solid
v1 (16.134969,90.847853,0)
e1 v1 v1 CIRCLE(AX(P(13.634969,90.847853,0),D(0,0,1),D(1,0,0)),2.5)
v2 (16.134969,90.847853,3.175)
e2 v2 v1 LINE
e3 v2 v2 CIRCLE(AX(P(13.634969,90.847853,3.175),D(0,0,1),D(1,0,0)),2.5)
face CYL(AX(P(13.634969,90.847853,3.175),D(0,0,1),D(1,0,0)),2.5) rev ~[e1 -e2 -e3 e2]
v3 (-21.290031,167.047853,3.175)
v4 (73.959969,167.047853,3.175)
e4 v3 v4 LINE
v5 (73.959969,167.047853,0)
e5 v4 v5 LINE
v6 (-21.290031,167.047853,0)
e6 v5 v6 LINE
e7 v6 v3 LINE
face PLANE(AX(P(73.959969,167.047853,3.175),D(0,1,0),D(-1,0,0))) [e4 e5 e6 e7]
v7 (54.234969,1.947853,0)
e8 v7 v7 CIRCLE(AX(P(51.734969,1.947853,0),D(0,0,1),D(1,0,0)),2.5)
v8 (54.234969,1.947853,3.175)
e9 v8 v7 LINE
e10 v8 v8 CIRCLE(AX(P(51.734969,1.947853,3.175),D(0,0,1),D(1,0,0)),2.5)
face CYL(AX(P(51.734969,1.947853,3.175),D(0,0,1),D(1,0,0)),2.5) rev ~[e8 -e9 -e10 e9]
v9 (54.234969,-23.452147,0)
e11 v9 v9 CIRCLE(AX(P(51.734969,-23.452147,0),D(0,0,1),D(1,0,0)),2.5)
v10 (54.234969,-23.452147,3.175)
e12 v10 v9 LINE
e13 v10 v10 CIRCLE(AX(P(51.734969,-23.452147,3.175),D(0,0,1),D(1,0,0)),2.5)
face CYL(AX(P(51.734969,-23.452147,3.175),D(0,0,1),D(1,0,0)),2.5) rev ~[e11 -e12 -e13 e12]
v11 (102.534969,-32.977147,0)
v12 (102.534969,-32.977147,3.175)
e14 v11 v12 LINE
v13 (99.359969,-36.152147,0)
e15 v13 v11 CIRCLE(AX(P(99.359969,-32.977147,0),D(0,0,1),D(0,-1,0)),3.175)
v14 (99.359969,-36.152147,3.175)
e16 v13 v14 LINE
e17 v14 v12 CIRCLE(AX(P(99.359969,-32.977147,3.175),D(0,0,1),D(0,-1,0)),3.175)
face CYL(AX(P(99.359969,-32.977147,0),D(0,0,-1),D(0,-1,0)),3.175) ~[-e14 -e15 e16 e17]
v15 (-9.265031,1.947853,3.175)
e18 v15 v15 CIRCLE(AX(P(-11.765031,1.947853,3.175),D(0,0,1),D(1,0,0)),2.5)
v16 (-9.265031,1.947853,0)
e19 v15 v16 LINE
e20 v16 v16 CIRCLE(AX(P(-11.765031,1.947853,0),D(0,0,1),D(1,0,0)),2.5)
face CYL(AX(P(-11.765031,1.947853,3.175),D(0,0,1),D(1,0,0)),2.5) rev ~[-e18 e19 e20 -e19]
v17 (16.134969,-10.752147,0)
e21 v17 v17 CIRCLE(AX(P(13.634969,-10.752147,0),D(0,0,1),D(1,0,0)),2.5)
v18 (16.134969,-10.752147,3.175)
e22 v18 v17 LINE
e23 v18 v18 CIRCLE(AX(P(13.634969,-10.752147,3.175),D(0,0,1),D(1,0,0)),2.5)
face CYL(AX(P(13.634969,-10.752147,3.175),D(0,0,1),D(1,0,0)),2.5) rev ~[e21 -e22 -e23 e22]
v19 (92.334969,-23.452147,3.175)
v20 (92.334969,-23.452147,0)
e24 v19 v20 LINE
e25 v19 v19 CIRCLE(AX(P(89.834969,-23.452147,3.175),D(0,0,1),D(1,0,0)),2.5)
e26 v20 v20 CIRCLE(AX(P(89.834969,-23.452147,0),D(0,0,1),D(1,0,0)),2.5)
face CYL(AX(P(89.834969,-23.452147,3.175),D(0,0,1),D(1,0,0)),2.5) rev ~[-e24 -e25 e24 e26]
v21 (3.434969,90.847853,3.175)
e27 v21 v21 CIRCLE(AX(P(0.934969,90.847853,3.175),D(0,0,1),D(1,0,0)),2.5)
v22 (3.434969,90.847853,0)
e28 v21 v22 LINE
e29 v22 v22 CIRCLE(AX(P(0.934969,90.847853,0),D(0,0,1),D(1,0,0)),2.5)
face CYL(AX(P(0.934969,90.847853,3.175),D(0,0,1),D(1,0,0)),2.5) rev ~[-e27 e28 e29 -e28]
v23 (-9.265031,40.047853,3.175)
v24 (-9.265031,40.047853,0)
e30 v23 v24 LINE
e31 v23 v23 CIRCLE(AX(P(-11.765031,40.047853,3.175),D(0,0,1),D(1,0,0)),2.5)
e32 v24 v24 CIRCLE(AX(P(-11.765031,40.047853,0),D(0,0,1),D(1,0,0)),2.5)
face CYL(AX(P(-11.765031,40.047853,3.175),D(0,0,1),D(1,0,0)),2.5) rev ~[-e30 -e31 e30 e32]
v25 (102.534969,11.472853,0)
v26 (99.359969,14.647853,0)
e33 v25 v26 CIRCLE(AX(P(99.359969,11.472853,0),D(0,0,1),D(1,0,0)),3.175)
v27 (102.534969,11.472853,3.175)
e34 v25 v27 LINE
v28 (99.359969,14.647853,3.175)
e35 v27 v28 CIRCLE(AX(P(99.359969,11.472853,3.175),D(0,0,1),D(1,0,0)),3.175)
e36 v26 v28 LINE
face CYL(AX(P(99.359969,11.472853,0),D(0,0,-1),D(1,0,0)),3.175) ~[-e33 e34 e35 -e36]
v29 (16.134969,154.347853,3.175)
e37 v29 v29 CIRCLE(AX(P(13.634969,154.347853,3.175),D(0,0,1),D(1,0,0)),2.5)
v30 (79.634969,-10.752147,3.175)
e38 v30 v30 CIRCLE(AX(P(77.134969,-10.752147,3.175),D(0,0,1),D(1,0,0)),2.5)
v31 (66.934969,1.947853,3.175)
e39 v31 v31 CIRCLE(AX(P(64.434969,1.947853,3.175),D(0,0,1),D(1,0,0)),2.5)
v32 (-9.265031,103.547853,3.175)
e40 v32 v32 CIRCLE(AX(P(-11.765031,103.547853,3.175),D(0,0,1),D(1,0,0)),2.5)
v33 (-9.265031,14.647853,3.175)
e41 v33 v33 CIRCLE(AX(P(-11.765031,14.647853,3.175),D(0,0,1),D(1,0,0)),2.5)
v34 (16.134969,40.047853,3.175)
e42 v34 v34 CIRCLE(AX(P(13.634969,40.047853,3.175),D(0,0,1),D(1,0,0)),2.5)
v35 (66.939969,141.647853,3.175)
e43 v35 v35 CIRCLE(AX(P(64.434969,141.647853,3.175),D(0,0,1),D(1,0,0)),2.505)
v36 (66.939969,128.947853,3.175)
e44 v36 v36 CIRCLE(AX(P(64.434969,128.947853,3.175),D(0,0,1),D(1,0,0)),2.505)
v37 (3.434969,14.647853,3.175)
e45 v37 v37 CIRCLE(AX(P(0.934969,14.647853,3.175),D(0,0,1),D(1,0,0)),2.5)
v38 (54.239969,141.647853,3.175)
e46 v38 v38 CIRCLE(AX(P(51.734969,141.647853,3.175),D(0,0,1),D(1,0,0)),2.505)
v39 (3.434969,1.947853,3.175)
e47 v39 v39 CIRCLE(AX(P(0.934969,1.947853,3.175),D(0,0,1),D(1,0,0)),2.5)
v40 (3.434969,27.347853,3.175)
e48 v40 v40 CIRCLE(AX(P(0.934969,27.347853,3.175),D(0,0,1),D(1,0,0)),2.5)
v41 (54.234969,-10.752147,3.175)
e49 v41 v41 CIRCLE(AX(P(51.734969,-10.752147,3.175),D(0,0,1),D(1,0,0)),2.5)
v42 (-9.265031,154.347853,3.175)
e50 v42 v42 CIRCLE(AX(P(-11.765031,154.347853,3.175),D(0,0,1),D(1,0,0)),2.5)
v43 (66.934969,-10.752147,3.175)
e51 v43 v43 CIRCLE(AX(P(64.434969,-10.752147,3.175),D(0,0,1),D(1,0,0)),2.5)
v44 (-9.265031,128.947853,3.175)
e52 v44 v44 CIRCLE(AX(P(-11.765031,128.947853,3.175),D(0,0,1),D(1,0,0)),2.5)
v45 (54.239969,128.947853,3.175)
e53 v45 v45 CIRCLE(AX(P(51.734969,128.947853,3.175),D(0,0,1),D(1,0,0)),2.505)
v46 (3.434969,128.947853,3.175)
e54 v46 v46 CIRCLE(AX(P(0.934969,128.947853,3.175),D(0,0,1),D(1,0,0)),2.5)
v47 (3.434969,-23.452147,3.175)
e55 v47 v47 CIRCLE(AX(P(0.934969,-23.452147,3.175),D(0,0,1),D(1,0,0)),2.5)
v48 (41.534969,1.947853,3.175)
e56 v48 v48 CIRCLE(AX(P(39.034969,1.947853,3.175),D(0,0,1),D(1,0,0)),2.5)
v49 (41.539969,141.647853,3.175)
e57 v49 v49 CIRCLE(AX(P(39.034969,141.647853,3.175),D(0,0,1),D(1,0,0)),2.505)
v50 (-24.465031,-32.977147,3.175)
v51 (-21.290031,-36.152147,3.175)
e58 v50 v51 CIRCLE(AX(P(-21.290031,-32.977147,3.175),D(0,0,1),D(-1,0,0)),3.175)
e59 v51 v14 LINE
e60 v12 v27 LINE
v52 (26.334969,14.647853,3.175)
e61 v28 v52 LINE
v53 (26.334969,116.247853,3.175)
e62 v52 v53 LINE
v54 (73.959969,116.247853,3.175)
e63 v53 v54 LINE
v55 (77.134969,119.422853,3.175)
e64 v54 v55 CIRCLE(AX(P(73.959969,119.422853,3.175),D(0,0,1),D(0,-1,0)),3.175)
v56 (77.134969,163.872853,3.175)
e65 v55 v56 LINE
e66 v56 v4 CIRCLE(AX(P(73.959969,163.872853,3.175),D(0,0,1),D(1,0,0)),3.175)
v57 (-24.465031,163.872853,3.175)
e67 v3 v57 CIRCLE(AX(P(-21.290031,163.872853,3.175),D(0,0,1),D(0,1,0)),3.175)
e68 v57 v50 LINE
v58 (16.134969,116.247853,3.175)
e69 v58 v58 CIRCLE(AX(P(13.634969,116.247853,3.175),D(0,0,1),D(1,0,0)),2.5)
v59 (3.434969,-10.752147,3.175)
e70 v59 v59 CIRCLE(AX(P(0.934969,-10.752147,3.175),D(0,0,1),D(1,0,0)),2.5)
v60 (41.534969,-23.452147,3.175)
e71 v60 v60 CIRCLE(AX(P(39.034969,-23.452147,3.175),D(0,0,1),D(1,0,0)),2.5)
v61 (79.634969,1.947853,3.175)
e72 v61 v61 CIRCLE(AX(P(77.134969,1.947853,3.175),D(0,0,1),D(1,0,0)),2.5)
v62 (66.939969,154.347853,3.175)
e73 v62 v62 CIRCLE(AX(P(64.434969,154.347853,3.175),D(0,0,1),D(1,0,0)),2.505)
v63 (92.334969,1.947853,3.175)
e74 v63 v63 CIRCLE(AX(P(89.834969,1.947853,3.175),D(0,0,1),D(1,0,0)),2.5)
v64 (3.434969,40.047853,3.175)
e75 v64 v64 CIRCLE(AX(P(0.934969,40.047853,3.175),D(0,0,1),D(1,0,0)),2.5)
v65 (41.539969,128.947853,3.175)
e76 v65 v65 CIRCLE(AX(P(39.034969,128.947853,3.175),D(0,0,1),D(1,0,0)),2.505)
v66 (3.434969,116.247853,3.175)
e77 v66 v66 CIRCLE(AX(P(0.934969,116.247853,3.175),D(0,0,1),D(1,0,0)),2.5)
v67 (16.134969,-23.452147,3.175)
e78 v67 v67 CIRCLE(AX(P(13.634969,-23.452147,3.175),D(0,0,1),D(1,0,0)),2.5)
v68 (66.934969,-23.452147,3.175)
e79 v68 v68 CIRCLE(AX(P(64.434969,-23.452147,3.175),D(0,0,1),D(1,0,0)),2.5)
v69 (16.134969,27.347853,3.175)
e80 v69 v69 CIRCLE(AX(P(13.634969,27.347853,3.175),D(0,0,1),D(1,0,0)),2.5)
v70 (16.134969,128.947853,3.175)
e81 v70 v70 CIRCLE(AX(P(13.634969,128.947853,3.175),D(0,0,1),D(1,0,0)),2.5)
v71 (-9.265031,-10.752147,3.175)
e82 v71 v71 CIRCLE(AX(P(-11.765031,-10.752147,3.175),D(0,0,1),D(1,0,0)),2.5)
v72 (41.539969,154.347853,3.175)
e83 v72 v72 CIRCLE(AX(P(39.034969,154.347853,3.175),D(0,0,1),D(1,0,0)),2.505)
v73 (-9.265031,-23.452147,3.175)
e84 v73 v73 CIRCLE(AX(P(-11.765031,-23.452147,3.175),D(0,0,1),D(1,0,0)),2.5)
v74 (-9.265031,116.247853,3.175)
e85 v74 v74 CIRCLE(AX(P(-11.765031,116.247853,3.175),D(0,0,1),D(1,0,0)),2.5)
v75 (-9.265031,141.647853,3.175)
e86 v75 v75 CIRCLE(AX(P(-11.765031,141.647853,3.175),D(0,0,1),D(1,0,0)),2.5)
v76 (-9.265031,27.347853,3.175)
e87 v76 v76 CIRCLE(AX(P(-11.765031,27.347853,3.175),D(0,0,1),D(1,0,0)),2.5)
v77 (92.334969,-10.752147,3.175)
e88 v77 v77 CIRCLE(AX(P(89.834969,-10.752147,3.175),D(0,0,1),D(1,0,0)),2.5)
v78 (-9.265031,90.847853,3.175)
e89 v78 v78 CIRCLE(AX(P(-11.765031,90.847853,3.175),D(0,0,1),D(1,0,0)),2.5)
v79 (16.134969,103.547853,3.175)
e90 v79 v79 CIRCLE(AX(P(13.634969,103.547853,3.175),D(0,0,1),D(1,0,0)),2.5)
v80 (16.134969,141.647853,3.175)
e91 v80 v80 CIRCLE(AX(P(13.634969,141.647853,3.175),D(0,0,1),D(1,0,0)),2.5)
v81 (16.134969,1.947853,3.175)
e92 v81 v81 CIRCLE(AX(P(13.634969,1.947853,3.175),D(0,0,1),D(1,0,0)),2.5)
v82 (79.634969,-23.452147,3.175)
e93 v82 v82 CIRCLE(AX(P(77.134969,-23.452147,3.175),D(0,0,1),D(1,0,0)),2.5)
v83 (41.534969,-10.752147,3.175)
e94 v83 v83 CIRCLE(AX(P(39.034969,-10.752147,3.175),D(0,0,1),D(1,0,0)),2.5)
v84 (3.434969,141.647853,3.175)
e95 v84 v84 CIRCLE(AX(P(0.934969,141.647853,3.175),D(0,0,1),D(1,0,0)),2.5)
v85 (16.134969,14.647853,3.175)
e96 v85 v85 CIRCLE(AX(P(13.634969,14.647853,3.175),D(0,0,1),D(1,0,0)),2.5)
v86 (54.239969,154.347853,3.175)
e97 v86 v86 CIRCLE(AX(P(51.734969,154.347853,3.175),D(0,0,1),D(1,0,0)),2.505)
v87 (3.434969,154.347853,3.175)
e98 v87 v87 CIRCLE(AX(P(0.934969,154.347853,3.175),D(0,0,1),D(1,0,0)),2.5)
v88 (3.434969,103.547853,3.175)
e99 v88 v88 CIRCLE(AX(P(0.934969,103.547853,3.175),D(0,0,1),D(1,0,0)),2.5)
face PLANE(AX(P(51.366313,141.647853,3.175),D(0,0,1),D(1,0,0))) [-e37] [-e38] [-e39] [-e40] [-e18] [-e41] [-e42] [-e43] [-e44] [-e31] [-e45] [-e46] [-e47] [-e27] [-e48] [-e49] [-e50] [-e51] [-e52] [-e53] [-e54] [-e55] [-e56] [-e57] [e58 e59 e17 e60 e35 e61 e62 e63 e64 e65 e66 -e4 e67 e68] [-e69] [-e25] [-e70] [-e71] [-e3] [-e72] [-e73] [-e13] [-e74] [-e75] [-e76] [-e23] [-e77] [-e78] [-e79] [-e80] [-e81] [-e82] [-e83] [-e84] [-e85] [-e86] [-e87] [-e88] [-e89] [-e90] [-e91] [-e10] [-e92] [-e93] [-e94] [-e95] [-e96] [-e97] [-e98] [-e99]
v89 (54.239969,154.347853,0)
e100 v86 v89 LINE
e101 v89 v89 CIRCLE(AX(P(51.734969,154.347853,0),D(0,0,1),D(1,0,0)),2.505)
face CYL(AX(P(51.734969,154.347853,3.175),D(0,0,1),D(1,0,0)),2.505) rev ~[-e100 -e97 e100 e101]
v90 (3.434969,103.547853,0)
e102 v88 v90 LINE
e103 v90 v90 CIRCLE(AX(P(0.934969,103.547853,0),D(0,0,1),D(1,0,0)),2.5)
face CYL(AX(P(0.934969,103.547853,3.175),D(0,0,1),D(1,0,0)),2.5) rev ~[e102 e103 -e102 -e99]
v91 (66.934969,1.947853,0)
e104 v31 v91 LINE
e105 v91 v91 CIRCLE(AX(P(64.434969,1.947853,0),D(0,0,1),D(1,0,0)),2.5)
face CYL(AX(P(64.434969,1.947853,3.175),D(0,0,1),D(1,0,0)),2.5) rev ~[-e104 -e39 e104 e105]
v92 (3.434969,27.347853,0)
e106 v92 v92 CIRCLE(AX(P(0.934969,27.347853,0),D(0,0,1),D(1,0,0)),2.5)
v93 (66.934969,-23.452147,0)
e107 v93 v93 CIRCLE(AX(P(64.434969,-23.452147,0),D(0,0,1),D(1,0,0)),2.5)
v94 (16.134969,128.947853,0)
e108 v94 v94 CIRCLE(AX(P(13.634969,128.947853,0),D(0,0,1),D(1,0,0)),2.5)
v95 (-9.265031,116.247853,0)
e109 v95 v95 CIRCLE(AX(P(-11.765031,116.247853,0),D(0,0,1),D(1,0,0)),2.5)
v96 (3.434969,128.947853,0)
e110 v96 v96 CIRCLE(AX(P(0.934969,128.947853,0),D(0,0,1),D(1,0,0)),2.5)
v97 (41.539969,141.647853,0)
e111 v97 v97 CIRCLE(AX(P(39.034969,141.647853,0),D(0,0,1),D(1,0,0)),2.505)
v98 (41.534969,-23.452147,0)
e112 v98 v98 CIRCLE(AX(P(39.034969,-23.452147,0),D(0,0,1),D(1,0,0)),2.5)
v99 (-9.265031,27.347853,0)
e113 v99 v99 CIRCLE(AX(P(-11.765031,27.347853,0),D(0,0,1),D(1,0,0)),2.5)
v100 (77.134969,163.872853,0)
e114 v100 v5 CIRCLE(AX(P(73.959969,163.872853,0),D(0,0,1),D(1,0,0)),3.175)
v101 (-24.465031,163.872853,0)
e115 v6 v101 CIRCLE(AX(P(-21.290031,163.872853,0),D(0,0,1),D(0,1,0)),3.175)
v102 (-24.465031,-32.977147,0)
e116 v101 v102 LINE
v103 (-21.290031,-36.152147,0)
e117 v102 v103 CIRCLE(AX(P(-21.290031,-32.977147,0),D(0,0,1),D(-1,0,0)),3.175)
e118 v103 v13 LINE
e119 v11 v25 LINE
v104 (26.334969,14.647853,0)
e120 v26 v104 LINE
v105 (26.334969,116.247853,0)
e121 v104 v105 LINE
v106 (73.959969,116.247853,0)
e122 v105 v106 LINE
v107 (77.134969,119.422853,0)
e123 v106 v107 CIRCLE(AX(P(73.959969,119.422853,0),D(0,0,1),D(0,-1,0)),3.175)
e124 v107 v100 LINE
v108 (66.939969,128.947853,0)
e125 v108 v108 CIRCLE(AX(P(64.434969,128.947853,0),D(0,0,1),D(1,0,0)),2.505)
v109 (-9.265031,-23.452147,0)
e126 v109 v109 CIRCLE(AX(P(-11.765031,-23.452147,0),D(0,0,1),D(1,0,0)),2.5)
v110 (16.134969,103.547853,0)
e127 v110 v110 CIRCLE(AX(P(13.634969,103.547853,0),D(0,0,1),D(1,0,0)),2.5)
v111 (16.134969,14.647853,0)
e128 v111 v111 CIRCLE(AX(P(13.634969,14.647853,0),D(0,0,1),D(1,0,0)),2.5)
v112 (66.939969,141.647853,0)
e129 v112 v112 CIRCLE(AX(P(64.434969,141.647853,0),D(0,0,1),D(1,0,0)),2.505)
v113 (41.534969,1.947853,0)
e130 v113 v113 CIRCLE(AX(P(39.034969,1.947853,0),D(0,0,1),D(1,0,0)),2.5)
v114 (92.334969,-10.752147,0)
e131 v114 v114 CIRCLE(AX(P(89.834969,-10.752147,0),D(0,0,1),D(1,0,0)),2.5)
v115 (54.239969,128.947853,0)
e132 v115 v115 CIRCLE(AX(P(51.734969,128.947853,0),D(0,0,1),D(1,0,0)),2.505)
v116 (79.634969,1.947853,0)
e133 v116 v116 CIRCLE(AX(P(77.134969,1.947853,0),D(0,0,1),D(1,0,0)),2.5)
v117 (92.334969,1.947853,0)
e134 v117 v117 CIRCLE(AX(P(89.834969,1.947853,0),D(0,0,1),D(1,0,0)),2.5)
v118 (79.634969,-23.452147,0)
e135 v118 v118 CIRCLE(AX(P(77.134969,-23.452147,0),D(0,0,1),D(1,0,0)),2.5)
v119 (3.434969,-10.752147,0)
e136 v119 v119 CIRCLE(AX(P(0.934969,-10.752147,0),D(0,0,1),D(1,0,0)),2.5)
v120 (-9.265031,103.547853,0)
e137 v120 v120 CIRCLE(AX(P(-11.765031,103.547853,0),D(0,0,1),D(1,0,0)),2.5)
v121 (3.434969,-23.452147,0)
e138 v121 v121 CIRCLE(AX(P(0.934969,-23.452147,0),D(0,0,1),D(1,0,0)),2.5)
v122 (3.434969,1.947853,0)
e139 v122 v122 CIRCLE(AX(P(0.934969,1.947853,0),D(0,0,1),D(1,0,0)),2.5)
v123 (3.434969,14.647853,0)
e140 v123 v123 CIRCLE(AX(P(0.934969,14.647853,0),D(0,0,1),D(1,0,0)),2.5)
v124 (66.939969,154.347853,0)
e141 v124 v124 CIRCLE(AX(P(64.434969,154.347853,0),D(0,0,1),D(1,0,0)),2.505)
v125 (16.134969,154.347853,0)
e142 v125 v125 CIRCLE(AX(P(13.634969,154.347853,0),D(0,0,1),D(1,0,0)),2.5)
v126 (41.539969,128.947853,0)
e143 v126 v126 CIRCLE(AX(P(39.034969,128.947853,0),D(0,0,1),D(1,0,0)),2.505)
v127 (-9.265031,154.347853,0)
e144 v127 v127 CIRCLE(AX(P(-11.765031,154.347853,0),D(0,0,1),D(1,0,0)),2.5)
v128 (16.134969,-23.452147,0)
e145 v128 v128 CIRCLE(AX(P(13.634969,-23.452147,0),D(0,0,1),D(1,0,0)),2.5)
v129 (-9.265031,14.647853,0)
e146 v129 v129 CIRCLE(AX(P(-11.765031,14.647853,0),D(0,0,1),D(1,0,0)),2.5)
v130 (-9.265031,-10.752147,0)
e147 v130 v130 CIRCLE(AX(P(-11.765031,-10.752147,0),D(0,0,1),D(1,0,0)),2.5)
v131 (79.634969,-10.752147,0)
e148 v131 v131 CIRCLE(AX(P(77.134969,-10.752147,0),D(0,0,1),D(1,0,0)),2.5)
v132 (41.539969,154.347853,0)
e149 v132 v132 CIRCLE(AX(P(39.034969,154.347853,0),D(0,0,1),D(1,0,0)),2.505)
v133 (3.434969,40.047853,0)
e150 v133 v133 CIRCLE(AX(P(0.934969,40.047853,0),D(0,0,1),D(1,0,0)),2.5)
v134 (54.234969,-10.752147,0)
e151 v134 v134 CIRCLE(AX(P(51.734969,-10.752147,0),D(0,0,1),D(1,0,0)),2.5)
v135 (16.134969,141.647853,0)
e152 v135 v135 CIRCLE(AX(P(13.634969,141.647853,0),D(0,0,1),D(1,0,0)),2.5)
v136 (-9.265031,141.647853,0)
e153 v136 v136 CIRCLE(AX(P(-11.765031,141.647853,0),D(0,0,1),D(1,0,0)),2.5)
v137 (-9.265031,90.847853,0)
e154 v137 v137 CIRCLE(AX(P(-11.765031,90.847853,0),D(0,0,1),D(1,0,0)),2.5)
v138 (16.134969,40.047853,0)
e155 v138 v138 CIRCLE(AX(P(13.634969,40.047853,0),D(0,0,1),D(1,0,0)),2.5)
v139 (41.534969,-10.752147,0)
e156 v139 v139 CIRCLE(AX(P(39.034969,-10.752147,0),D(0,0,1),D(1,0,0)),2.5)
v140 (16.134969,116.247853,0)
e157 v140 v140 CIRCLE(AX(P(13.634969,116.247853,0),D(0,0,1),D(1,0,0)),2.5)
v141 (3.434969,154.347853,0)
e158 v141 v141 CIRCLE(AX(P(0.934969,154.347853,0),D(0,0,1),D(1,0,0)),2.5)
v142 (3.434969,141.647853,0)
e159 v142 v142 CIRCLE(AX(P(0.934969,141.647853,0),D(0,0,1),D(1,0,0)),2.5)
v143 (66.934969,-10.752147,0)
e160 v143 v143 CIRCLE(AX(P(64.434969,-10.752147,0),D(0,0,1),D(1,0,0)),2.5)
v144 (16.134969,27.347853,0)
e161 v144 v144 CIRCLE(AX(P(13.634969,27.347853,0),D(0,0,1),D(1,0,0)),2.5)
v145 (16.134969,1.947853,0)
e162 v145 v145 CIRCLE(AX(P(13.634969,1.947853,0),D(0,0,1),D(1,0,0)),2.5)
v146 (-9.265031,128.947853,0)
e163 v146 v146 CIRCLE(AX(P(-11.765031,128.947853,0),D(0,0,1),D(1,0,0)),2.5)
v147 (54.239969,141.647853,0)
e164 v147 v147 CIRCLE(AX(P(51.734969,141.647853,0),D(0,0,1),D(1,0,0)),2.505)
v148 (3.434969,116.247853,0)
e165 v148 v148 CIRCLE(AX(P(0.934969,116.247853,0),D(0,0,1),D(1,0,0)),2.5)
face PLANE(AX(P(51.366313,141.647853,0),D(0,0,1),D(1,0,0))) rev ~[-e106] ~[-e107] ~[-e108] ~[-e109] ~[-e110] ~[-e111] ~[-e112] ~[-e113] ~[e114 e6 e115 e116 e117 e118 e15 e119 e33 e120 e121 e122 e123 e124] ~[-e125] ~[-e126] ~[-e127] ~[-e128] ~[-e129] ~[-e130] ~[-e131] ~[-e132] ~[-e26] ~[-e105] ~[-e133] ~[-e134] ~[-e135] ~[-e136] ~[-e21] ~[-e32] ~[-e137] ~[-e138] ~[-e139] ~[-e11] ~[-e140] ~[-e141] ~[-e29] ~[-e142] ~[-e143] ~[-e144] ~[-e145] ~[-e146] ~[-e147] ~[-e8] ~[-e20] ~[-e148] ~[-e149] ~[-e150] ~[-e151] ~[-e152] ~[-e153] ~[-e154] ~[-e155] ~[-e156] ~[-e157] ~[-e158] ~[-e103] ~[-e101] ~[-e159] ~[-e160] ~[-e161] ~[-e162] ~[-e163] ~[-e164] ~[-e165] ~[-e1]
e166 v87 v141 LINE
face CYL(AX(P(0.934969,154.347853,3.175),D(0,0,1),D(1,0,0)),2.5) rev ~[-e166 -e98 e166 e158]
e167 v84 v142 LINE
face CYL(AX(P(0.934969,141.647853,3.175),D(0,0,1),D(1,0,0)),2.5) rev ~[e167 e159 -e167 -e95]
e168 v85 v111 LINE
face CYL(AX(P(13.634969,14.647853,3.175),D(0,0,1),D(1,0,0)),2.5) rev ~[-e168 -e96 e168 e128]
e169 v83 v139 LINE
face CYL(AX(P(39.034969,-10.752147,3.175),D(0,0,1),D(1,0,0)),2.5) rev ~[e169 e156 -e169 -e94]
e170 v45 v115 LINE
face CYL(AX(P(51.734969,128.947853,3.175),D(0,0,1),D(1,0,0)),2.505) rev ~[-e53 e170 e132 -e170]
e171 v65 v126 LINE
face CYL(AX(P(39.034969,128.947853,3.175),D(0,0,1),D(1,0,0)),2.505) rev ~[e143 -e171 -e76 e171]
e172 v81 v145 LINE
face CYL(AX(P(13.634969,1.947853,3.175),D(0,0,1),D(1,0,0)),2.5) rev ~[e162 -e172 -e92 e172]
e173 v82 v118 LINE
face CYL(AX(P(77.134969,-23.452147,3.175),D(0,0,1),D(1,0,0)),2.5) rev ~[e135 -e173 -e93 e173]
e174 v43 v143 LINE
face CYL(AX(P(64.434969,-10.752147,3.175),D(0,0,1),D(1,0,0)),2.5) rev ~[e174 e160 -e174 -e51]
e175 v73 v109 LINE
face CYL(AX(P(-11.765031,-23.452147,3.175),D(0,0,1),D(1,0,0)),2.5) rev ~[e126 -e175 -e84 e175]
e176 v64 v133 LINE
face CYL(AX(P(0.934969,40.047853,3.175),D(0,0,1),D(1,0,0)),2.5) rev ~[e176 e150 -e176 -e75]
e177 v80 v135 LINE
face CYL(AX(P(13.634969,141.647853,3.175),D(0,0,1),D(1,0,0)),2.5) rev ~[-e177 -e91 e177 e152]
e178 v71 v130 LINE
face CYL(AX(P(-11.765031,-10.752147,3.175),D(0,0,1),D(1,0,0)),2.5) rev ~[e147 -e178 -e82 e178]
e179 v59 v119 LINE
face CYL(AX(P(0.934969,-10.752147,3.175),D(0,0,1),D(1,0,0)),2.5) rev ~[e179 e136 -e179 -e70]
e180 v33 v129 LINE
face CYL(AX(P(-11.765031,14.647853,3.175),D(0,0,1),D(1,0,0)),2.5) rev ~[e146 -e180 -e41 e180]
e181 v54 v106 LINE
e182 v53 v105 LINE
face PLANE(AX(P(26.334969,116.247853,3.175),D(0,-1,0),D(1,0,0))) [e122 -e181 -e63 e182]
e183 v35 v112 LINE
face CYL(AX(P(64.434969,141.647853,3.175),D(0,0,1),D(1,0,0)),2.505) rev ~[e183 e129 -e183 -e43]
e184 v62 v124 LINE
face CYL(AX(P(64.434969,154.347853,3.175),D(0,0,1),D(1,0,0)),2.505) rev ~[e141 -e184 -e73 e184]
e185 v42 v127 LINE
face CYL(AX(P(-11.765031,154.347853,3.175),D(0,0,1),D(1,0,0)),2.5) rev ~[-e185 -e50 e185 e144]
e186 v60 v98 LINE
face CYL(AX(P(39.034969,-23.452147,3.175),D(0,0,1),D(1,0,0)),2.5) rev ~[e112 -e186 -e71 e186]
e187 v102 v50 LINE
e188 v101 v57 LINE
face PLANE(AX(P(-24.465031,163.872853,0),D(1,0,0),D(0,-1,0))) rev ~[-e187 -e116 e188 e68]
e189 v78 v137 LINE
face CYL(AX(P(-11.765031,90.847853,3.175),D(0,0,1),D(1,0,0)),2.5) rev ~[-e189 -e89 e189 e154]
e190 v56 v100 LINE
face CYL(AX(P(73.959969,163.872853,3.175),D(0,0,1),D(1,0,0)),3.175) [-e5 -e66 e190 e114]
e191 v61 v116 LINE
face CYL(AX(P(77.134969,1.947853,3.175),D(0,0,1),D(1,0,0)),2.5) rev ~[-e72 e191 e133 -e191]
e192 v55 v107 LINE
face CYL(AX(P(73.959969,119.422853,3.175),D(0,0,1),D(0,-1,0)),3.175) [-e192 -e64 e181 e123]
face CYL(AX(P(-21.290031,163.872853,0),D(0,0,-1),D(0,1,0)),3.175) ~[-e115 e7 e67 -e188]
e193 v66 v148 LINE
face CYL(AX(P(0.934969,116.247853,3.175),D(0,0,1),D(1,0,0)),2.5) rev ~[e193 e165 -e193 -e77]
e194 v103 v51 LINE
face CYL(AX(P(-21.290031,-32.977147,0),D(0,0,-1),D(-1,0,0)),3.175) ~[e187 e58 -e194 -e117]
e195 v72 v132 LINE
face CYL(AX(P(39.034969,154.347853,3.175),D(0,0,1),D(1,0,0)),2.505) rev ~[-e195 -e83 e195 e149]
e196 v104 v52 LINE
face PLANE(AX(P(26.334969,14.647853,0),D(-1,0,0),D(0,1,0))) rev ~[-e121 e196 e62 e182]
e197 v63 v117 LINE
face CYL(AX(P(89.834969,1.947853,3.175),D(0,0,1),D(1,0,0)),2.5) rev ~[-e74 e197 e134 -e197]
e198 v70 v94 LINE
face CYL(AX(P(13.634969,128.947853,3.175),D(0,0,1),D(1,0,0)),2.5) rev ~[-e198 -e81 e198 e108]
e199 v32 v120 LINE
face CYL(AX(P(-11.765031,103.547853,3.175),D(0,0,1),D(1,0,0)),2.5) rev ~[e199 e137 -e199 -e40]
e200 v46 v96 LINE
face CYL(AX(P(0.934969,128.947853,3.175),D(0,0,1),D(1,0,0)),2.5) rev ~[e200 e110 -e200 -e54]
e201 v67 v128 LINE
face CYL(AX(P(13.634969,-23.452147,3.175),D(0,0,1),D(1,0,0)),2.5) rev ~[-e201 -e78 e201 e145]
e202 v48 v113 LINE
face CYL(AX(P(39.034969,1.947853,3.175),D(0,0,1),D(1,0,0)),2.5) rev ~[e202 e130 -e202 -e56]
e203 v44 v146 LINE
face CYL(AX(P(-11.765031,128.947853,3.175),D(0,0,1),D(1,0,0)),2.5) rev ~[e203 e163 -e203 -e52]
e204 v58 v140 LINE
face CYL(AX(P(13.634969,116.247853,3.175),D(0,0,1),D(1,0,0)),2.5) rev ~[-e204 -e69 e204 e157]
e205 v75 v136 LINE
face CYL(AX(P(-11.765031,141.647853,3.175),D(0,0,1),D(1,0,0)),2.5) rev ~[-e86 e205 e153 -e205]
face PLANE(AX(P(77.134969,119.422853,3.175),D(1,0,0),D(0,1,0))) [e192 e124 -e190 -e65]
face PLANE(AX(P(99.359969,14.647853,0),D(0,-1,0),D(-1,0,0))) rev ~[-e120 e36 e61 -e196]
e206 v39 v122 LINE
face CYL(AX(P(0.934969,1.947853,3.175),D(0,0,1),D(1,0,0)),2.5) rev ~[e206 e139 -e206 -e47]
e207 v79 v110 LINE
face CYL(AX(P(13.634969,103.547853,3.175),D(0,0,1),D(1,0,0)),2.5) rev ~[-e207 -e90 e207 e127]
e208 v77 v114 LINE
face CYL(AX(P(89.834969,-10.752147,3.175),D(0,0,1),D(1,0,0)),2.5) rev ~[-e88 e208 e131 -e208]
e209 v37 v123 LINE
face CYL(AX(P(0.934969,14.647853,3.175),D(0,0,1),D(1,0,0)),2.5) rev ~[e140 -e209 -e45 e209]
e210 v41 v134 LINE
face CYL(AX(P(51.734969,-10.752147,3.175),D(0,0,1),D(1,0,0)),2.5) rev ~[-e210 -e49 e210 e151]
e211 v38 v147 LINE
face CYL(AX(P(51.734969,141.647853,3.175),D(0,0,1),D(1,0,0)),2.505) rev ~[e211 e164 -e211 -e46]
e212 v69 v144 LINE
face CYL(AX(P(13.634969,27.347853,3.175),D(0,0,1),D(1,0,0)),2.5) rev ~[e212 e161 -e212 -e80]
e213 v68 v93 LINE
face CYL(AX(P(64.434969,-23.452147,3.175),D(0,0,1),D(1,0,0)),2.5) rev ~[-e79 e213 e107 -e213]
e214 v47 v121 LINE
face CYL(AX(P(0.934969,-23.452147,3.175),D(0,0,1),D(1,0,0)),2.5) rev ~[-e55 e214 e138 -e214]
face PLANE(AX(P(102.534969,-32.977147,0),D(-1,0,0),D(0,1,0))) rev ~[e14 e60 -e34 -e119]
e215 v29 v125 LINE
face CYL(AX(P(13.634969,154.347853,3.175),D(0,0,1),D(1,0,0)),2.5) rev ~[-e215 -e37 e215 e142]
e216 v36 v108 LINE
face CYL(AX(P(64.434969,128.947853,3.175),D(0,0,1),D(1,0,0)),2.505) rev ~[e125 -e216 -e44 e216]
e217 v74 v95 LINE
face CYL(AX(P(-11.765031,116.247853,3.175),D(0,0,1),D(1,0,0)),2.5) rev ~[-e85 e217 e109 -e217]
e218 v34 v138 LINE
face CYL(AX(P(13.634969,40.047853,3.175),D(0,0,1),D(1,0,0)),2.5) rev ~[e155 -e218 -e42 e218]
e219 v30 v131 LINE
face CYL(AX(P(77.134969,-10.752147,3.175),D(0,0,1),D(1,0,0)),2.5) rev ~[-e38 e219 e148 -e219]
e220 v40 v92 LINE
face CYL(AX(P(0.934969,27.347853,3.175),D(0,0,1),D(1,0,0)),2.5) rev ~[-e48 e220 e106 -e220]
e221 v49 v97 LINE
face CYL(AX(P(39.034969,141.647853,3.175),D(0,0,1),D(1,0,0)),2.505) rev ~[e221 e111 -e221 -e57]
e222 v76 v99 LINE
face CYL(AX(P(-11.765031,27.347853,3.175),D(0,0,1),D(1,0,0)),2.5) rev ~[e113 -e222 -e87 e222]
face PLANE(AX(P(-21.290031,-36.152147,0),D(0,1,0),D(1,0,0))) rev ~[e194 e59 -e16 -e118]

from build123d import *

# Parameters (mm, degrees)
BOSS_EXTRUDE1_DEPTH = 3.175
SKETCH2_R           = 2.5
CUT_EXTRUDE1_DEPTH  = 4.175
BOSS_EXTRUDE2_DEPTH = 3.175
SKETCH4_R           = 2.505
CUT_EXTRUDE2_DEPTH  = 4.175


with BuildPart() as part:
    # Sketch1 → Boss-Extrude1 (new body)
    with BuildSketch(Plane.XY):
        with BuildLine():
            Line((26.334969325, 167.047852761), (23.159969325, 167.047852761))
            Line((23.159969325, 167.047852761), (-21.290030675, 167.047852761))
            ThreePointArc((-21.290030675, 167.047852761), (-23.535094705, 166.117916791), (-24.465030675, 163.872852761))
            Line((-24.465030675, 163.872852761), (-24.465030675, 14.647852761))
            Line((-24.465030675, 14.647852761), (26.334969325, 14.647852761))
            Line((26.334969325, 14.647852761), (26.334969325, 163.872852761))
            Line((26.334969325, 163.872852761), (26.334969325, 167.047852761))
        make_face()
        with BuildLine():
            Line((99.359969325, 14.647852761), (26.334969325, 14.647852761))
            Line((26.334969325, 14.647852761), (-24.465030675, 14.647852761))
            Line((-24.465030675, 14.647852761), (-24.465030675, -32.977147239))
            ThreePointArc((-24.465030675, -32.977147239), (-23.535094705, -35.22221127), (-21.290030675, -36.152147239))
            Line((-21.290030675, -36.152147239), (99.359969325, -36.152147239))
            ThreePointArc((99.359969325, -36.152147239), (101.605033355, -35.22221127), (102.534969325, -32.977147239))
            Line((102.534969325, -32.977147239), (102.534969325, 11.472852761))
            ThreePointArc((102.534969325, 11.472852761), (101.605033355, 13.717916791), (99.359969325, 14.647852761))
        make_face()
    extrude(amount=BOSS_EXTRUDE1_DEPTH)

    # Sketch2 → Cut-Extrude1 (cut, through all)
    with BuildSketch(Plane.XY.offset(3.175)):
        with Locations((-11.765030675, 154.347852761)):
            Circle(SKETCH2_R)
        with Locations((89.834969325, -23.452147239)):
            Circle(SKETCH2_R)
        with Locations((0.934969325, 154.347852761)):
            Circle(SKETCH2_R)
        with Locations((13.634969325, 154.347852761)):
            Circle(SKETCH2_R)
        with Locations((0.934969325, 141.647852761)):
            Circle(SKETCH2_R)
        with Locations((13.634969325, 141.647852761)):
            Circle(SKETCH2_R)
        with Locations((0.934969325, 128.947852761)):
            Circle(SKETCH2_R)
        with Locations((13.634969325, 128.947852761)):
            Circle(SKETCH2_R)
        with Locations((0.934969325, 116.247852761)):
            Circle(SKETCH2_R)
        with Locations((13.634969325, 116.247852761)):
            Circle(SKETCH2_R)
        with Locations((0.934969325, 103.547852761)):
            Circle(SKETCH2_R)
        with Locations((13.634969325, 103.547852761)):
            Circle(SKETCH2_R)
        with Locations((0.934969325, 90.847852761)):
            Circle(SKETCH2_R)
        with Locations((13.634969325, 90.847852761)):
            Circle(SKETCH2_R)
        with Locations((-11.765030675, 141.647852761)):
            Circle(SKETCH2_R)
        with Locations((-11.765030675, 128.947852761)):
            Circle(SKETCH2_R)
        with Locations((-11.765030675, 116.247852761)):
            Circle(SKETCH2_R)
        with Locations((-11.765030675, 103.547852761)):
            Circle(SKETCH2_R)
        with Locations((-11.765030675, 90.847852761)):
            Circle(SKETCH2_R)
        with Locations((77.134969325, -23.452147239)):
            Circle(SKETCH2_R)
        with Locations((64.434969325, -23.452147239)):
            Circle(SKETCH2_R)
        with Locations((51.734969325, -23.452147239)):
            Circle(SKETCH2_R)
        with Locations((39.034969325, -23.452147239)):
            Circle(SKETCH2_R)
        with Locations((77.134969325, -10.752147239)):
            Circle(SKETCH2_R)
        with Locations((64.434969325, -10.752147239)):
            Circle(SKETCH2_R)
        with Locations((51.734969325, -10.752147239)):
            Circle(SKETCH2_R)
        with Locations((39.034969325, -10.752147239)):
            Circle(SKETCH2_R)
        with Locations((77.134969325, 1.947852761)):
            Circle(SKETCH2_R)
        with Locations((64.434969325, 1.947852761)):
            Circle(SKETCH2_R)
        with Locations((51.734969325, 1.947852761)):
            Circle(SKETCH2_R)
        with Locations((39.034969325, 1.947852761)):
            Circle(SKETCH2_R)
        with Locations((89.834969325, -10.752147239)):
            Circle(SKETCH2_R)
        with Locations((89.834969325, 1.947852761)):
            Circle(SKETCH2_R)
        with Locations((-11.765030675, 40.047852761)):
            Circle(SKETCH2_R)
        with Locations((0.934969325, 40.047852761)):
            Circle(SKETCH2_R)
        with Locations((13.634969325, 40.047852761)):
            Circle(SKETCH2_R)
        with Locations((-11.765030675, 27.347852761)):
            Circle(SKETCH2_R)
        with Locations((0.934969325, 27.347852761)):
            Circle(SKETCH2_R)
        with Locations((13.634969325, 27.347852761)):
            Circle(SKETCH2_R)
        with Locations((-11.765030675, 14.647852761)):
            Circle(SKETCH2_R)
        with Locations((0.934969325, 14.647852761)):
            Circle(SKETCH2_R)
        with Locations((13.634969325, 14.647852761)):
            Circle(SKETCH2_R)
        with Locations((-11.765030675, 1.947852761)):
            Circle(SKETCH2_R)
        with Locations((0.934969325, 1.947852761)):
            Circle(SKETCH2_R)
        with Locations((13.634969325, 1.947852761)):
            Circle(SKETCH2_R)
        with Locations((-11.765030675, -10.752147239)):
            Circle(SKETCH2_R)
        with Locations((0.934969325, -10.752147239)):
            Circle(SKETCH2_R)
        with Locations((13.634969325, -10.752147239)):
            Circle(SKETCH2_R)
        with Locations((-11.765030675, -23.452147239)):
            Circle(SKETCH2_R)
        with Locations((0.934969325, -23.452147239)):
            Circle(SKETCH2_R)
        with Locations((13.634969325, -23.452147239)):
            Circle(SKETCH2_R)
    extrude(amount=-CUT_EXTRUDE1_DEPTH, mode=Mode.SUBTRACT)

    # Sketch3 → Boss-Extrude2 (add)
    with BuildSketch(Plane.XY.offset(3.175)):
        with BuildLine():
            Line((73.959969325, 167.047852761), (26.334969325, 167.047852761))
            Line((26.334969325, 167.047852761), (26.334969325, 116.247852761))
            Line((26.334969325, 116.247852761), (73.959969325, 116.247852761))
            ThreePointArc((73.959969325, 116.247852761), (76.205033355, 117.17778873), (77.134969325, 119.422852761))
            Line((77.134969325, 119.422852761), (77.134969325, 163.872852761))
            ThreePointArc((77.134969325, 163.872852761), (76.205033355, 166.117916791), (73.959969325, 167.047852761))
        make_face()
    extrude(amount=-BOSS_EXTRUDE2_DEPTH)

    # Sketch4 → Cut-Extrude2 (cut, through all)
    with BuildSketch(Plane.XY.offset(3.175)):
        with Locations((64.434969325, 154.347852761)):
            Circle(SKETCH4_R)
        with Locations((51.734969325, 154.347852761)):
            Circle(SKETCH4_R)
        with Locations((39.034969325, 154.347852761)):
            Circle(SKETCH4_R)
        with Locations((51.734969325, 141.647852761)):
            Circle(SKETCH4_R)
        with Locations((39.034969325, 141.647852761)):
            Circle(SKETCH4_R)
        with Locations((51.734969325, 128.947852761)):
            Circle(SKETCH4_R)
        with Locations((39.034969325, 128.947852761)):
            Circle(SKETCH4_R)
        with Locations((64.434969325, 141.647852761)):
            Circle(SKETCH4_R)
        with Locations((64.434969325, 128.947852761)):
            Circle(SKETCH4_R)
    extrude(amount=-CUT_EXTRUDE2_DEPTH, mode=Mode.SUBTRACT)


solid = part.part
